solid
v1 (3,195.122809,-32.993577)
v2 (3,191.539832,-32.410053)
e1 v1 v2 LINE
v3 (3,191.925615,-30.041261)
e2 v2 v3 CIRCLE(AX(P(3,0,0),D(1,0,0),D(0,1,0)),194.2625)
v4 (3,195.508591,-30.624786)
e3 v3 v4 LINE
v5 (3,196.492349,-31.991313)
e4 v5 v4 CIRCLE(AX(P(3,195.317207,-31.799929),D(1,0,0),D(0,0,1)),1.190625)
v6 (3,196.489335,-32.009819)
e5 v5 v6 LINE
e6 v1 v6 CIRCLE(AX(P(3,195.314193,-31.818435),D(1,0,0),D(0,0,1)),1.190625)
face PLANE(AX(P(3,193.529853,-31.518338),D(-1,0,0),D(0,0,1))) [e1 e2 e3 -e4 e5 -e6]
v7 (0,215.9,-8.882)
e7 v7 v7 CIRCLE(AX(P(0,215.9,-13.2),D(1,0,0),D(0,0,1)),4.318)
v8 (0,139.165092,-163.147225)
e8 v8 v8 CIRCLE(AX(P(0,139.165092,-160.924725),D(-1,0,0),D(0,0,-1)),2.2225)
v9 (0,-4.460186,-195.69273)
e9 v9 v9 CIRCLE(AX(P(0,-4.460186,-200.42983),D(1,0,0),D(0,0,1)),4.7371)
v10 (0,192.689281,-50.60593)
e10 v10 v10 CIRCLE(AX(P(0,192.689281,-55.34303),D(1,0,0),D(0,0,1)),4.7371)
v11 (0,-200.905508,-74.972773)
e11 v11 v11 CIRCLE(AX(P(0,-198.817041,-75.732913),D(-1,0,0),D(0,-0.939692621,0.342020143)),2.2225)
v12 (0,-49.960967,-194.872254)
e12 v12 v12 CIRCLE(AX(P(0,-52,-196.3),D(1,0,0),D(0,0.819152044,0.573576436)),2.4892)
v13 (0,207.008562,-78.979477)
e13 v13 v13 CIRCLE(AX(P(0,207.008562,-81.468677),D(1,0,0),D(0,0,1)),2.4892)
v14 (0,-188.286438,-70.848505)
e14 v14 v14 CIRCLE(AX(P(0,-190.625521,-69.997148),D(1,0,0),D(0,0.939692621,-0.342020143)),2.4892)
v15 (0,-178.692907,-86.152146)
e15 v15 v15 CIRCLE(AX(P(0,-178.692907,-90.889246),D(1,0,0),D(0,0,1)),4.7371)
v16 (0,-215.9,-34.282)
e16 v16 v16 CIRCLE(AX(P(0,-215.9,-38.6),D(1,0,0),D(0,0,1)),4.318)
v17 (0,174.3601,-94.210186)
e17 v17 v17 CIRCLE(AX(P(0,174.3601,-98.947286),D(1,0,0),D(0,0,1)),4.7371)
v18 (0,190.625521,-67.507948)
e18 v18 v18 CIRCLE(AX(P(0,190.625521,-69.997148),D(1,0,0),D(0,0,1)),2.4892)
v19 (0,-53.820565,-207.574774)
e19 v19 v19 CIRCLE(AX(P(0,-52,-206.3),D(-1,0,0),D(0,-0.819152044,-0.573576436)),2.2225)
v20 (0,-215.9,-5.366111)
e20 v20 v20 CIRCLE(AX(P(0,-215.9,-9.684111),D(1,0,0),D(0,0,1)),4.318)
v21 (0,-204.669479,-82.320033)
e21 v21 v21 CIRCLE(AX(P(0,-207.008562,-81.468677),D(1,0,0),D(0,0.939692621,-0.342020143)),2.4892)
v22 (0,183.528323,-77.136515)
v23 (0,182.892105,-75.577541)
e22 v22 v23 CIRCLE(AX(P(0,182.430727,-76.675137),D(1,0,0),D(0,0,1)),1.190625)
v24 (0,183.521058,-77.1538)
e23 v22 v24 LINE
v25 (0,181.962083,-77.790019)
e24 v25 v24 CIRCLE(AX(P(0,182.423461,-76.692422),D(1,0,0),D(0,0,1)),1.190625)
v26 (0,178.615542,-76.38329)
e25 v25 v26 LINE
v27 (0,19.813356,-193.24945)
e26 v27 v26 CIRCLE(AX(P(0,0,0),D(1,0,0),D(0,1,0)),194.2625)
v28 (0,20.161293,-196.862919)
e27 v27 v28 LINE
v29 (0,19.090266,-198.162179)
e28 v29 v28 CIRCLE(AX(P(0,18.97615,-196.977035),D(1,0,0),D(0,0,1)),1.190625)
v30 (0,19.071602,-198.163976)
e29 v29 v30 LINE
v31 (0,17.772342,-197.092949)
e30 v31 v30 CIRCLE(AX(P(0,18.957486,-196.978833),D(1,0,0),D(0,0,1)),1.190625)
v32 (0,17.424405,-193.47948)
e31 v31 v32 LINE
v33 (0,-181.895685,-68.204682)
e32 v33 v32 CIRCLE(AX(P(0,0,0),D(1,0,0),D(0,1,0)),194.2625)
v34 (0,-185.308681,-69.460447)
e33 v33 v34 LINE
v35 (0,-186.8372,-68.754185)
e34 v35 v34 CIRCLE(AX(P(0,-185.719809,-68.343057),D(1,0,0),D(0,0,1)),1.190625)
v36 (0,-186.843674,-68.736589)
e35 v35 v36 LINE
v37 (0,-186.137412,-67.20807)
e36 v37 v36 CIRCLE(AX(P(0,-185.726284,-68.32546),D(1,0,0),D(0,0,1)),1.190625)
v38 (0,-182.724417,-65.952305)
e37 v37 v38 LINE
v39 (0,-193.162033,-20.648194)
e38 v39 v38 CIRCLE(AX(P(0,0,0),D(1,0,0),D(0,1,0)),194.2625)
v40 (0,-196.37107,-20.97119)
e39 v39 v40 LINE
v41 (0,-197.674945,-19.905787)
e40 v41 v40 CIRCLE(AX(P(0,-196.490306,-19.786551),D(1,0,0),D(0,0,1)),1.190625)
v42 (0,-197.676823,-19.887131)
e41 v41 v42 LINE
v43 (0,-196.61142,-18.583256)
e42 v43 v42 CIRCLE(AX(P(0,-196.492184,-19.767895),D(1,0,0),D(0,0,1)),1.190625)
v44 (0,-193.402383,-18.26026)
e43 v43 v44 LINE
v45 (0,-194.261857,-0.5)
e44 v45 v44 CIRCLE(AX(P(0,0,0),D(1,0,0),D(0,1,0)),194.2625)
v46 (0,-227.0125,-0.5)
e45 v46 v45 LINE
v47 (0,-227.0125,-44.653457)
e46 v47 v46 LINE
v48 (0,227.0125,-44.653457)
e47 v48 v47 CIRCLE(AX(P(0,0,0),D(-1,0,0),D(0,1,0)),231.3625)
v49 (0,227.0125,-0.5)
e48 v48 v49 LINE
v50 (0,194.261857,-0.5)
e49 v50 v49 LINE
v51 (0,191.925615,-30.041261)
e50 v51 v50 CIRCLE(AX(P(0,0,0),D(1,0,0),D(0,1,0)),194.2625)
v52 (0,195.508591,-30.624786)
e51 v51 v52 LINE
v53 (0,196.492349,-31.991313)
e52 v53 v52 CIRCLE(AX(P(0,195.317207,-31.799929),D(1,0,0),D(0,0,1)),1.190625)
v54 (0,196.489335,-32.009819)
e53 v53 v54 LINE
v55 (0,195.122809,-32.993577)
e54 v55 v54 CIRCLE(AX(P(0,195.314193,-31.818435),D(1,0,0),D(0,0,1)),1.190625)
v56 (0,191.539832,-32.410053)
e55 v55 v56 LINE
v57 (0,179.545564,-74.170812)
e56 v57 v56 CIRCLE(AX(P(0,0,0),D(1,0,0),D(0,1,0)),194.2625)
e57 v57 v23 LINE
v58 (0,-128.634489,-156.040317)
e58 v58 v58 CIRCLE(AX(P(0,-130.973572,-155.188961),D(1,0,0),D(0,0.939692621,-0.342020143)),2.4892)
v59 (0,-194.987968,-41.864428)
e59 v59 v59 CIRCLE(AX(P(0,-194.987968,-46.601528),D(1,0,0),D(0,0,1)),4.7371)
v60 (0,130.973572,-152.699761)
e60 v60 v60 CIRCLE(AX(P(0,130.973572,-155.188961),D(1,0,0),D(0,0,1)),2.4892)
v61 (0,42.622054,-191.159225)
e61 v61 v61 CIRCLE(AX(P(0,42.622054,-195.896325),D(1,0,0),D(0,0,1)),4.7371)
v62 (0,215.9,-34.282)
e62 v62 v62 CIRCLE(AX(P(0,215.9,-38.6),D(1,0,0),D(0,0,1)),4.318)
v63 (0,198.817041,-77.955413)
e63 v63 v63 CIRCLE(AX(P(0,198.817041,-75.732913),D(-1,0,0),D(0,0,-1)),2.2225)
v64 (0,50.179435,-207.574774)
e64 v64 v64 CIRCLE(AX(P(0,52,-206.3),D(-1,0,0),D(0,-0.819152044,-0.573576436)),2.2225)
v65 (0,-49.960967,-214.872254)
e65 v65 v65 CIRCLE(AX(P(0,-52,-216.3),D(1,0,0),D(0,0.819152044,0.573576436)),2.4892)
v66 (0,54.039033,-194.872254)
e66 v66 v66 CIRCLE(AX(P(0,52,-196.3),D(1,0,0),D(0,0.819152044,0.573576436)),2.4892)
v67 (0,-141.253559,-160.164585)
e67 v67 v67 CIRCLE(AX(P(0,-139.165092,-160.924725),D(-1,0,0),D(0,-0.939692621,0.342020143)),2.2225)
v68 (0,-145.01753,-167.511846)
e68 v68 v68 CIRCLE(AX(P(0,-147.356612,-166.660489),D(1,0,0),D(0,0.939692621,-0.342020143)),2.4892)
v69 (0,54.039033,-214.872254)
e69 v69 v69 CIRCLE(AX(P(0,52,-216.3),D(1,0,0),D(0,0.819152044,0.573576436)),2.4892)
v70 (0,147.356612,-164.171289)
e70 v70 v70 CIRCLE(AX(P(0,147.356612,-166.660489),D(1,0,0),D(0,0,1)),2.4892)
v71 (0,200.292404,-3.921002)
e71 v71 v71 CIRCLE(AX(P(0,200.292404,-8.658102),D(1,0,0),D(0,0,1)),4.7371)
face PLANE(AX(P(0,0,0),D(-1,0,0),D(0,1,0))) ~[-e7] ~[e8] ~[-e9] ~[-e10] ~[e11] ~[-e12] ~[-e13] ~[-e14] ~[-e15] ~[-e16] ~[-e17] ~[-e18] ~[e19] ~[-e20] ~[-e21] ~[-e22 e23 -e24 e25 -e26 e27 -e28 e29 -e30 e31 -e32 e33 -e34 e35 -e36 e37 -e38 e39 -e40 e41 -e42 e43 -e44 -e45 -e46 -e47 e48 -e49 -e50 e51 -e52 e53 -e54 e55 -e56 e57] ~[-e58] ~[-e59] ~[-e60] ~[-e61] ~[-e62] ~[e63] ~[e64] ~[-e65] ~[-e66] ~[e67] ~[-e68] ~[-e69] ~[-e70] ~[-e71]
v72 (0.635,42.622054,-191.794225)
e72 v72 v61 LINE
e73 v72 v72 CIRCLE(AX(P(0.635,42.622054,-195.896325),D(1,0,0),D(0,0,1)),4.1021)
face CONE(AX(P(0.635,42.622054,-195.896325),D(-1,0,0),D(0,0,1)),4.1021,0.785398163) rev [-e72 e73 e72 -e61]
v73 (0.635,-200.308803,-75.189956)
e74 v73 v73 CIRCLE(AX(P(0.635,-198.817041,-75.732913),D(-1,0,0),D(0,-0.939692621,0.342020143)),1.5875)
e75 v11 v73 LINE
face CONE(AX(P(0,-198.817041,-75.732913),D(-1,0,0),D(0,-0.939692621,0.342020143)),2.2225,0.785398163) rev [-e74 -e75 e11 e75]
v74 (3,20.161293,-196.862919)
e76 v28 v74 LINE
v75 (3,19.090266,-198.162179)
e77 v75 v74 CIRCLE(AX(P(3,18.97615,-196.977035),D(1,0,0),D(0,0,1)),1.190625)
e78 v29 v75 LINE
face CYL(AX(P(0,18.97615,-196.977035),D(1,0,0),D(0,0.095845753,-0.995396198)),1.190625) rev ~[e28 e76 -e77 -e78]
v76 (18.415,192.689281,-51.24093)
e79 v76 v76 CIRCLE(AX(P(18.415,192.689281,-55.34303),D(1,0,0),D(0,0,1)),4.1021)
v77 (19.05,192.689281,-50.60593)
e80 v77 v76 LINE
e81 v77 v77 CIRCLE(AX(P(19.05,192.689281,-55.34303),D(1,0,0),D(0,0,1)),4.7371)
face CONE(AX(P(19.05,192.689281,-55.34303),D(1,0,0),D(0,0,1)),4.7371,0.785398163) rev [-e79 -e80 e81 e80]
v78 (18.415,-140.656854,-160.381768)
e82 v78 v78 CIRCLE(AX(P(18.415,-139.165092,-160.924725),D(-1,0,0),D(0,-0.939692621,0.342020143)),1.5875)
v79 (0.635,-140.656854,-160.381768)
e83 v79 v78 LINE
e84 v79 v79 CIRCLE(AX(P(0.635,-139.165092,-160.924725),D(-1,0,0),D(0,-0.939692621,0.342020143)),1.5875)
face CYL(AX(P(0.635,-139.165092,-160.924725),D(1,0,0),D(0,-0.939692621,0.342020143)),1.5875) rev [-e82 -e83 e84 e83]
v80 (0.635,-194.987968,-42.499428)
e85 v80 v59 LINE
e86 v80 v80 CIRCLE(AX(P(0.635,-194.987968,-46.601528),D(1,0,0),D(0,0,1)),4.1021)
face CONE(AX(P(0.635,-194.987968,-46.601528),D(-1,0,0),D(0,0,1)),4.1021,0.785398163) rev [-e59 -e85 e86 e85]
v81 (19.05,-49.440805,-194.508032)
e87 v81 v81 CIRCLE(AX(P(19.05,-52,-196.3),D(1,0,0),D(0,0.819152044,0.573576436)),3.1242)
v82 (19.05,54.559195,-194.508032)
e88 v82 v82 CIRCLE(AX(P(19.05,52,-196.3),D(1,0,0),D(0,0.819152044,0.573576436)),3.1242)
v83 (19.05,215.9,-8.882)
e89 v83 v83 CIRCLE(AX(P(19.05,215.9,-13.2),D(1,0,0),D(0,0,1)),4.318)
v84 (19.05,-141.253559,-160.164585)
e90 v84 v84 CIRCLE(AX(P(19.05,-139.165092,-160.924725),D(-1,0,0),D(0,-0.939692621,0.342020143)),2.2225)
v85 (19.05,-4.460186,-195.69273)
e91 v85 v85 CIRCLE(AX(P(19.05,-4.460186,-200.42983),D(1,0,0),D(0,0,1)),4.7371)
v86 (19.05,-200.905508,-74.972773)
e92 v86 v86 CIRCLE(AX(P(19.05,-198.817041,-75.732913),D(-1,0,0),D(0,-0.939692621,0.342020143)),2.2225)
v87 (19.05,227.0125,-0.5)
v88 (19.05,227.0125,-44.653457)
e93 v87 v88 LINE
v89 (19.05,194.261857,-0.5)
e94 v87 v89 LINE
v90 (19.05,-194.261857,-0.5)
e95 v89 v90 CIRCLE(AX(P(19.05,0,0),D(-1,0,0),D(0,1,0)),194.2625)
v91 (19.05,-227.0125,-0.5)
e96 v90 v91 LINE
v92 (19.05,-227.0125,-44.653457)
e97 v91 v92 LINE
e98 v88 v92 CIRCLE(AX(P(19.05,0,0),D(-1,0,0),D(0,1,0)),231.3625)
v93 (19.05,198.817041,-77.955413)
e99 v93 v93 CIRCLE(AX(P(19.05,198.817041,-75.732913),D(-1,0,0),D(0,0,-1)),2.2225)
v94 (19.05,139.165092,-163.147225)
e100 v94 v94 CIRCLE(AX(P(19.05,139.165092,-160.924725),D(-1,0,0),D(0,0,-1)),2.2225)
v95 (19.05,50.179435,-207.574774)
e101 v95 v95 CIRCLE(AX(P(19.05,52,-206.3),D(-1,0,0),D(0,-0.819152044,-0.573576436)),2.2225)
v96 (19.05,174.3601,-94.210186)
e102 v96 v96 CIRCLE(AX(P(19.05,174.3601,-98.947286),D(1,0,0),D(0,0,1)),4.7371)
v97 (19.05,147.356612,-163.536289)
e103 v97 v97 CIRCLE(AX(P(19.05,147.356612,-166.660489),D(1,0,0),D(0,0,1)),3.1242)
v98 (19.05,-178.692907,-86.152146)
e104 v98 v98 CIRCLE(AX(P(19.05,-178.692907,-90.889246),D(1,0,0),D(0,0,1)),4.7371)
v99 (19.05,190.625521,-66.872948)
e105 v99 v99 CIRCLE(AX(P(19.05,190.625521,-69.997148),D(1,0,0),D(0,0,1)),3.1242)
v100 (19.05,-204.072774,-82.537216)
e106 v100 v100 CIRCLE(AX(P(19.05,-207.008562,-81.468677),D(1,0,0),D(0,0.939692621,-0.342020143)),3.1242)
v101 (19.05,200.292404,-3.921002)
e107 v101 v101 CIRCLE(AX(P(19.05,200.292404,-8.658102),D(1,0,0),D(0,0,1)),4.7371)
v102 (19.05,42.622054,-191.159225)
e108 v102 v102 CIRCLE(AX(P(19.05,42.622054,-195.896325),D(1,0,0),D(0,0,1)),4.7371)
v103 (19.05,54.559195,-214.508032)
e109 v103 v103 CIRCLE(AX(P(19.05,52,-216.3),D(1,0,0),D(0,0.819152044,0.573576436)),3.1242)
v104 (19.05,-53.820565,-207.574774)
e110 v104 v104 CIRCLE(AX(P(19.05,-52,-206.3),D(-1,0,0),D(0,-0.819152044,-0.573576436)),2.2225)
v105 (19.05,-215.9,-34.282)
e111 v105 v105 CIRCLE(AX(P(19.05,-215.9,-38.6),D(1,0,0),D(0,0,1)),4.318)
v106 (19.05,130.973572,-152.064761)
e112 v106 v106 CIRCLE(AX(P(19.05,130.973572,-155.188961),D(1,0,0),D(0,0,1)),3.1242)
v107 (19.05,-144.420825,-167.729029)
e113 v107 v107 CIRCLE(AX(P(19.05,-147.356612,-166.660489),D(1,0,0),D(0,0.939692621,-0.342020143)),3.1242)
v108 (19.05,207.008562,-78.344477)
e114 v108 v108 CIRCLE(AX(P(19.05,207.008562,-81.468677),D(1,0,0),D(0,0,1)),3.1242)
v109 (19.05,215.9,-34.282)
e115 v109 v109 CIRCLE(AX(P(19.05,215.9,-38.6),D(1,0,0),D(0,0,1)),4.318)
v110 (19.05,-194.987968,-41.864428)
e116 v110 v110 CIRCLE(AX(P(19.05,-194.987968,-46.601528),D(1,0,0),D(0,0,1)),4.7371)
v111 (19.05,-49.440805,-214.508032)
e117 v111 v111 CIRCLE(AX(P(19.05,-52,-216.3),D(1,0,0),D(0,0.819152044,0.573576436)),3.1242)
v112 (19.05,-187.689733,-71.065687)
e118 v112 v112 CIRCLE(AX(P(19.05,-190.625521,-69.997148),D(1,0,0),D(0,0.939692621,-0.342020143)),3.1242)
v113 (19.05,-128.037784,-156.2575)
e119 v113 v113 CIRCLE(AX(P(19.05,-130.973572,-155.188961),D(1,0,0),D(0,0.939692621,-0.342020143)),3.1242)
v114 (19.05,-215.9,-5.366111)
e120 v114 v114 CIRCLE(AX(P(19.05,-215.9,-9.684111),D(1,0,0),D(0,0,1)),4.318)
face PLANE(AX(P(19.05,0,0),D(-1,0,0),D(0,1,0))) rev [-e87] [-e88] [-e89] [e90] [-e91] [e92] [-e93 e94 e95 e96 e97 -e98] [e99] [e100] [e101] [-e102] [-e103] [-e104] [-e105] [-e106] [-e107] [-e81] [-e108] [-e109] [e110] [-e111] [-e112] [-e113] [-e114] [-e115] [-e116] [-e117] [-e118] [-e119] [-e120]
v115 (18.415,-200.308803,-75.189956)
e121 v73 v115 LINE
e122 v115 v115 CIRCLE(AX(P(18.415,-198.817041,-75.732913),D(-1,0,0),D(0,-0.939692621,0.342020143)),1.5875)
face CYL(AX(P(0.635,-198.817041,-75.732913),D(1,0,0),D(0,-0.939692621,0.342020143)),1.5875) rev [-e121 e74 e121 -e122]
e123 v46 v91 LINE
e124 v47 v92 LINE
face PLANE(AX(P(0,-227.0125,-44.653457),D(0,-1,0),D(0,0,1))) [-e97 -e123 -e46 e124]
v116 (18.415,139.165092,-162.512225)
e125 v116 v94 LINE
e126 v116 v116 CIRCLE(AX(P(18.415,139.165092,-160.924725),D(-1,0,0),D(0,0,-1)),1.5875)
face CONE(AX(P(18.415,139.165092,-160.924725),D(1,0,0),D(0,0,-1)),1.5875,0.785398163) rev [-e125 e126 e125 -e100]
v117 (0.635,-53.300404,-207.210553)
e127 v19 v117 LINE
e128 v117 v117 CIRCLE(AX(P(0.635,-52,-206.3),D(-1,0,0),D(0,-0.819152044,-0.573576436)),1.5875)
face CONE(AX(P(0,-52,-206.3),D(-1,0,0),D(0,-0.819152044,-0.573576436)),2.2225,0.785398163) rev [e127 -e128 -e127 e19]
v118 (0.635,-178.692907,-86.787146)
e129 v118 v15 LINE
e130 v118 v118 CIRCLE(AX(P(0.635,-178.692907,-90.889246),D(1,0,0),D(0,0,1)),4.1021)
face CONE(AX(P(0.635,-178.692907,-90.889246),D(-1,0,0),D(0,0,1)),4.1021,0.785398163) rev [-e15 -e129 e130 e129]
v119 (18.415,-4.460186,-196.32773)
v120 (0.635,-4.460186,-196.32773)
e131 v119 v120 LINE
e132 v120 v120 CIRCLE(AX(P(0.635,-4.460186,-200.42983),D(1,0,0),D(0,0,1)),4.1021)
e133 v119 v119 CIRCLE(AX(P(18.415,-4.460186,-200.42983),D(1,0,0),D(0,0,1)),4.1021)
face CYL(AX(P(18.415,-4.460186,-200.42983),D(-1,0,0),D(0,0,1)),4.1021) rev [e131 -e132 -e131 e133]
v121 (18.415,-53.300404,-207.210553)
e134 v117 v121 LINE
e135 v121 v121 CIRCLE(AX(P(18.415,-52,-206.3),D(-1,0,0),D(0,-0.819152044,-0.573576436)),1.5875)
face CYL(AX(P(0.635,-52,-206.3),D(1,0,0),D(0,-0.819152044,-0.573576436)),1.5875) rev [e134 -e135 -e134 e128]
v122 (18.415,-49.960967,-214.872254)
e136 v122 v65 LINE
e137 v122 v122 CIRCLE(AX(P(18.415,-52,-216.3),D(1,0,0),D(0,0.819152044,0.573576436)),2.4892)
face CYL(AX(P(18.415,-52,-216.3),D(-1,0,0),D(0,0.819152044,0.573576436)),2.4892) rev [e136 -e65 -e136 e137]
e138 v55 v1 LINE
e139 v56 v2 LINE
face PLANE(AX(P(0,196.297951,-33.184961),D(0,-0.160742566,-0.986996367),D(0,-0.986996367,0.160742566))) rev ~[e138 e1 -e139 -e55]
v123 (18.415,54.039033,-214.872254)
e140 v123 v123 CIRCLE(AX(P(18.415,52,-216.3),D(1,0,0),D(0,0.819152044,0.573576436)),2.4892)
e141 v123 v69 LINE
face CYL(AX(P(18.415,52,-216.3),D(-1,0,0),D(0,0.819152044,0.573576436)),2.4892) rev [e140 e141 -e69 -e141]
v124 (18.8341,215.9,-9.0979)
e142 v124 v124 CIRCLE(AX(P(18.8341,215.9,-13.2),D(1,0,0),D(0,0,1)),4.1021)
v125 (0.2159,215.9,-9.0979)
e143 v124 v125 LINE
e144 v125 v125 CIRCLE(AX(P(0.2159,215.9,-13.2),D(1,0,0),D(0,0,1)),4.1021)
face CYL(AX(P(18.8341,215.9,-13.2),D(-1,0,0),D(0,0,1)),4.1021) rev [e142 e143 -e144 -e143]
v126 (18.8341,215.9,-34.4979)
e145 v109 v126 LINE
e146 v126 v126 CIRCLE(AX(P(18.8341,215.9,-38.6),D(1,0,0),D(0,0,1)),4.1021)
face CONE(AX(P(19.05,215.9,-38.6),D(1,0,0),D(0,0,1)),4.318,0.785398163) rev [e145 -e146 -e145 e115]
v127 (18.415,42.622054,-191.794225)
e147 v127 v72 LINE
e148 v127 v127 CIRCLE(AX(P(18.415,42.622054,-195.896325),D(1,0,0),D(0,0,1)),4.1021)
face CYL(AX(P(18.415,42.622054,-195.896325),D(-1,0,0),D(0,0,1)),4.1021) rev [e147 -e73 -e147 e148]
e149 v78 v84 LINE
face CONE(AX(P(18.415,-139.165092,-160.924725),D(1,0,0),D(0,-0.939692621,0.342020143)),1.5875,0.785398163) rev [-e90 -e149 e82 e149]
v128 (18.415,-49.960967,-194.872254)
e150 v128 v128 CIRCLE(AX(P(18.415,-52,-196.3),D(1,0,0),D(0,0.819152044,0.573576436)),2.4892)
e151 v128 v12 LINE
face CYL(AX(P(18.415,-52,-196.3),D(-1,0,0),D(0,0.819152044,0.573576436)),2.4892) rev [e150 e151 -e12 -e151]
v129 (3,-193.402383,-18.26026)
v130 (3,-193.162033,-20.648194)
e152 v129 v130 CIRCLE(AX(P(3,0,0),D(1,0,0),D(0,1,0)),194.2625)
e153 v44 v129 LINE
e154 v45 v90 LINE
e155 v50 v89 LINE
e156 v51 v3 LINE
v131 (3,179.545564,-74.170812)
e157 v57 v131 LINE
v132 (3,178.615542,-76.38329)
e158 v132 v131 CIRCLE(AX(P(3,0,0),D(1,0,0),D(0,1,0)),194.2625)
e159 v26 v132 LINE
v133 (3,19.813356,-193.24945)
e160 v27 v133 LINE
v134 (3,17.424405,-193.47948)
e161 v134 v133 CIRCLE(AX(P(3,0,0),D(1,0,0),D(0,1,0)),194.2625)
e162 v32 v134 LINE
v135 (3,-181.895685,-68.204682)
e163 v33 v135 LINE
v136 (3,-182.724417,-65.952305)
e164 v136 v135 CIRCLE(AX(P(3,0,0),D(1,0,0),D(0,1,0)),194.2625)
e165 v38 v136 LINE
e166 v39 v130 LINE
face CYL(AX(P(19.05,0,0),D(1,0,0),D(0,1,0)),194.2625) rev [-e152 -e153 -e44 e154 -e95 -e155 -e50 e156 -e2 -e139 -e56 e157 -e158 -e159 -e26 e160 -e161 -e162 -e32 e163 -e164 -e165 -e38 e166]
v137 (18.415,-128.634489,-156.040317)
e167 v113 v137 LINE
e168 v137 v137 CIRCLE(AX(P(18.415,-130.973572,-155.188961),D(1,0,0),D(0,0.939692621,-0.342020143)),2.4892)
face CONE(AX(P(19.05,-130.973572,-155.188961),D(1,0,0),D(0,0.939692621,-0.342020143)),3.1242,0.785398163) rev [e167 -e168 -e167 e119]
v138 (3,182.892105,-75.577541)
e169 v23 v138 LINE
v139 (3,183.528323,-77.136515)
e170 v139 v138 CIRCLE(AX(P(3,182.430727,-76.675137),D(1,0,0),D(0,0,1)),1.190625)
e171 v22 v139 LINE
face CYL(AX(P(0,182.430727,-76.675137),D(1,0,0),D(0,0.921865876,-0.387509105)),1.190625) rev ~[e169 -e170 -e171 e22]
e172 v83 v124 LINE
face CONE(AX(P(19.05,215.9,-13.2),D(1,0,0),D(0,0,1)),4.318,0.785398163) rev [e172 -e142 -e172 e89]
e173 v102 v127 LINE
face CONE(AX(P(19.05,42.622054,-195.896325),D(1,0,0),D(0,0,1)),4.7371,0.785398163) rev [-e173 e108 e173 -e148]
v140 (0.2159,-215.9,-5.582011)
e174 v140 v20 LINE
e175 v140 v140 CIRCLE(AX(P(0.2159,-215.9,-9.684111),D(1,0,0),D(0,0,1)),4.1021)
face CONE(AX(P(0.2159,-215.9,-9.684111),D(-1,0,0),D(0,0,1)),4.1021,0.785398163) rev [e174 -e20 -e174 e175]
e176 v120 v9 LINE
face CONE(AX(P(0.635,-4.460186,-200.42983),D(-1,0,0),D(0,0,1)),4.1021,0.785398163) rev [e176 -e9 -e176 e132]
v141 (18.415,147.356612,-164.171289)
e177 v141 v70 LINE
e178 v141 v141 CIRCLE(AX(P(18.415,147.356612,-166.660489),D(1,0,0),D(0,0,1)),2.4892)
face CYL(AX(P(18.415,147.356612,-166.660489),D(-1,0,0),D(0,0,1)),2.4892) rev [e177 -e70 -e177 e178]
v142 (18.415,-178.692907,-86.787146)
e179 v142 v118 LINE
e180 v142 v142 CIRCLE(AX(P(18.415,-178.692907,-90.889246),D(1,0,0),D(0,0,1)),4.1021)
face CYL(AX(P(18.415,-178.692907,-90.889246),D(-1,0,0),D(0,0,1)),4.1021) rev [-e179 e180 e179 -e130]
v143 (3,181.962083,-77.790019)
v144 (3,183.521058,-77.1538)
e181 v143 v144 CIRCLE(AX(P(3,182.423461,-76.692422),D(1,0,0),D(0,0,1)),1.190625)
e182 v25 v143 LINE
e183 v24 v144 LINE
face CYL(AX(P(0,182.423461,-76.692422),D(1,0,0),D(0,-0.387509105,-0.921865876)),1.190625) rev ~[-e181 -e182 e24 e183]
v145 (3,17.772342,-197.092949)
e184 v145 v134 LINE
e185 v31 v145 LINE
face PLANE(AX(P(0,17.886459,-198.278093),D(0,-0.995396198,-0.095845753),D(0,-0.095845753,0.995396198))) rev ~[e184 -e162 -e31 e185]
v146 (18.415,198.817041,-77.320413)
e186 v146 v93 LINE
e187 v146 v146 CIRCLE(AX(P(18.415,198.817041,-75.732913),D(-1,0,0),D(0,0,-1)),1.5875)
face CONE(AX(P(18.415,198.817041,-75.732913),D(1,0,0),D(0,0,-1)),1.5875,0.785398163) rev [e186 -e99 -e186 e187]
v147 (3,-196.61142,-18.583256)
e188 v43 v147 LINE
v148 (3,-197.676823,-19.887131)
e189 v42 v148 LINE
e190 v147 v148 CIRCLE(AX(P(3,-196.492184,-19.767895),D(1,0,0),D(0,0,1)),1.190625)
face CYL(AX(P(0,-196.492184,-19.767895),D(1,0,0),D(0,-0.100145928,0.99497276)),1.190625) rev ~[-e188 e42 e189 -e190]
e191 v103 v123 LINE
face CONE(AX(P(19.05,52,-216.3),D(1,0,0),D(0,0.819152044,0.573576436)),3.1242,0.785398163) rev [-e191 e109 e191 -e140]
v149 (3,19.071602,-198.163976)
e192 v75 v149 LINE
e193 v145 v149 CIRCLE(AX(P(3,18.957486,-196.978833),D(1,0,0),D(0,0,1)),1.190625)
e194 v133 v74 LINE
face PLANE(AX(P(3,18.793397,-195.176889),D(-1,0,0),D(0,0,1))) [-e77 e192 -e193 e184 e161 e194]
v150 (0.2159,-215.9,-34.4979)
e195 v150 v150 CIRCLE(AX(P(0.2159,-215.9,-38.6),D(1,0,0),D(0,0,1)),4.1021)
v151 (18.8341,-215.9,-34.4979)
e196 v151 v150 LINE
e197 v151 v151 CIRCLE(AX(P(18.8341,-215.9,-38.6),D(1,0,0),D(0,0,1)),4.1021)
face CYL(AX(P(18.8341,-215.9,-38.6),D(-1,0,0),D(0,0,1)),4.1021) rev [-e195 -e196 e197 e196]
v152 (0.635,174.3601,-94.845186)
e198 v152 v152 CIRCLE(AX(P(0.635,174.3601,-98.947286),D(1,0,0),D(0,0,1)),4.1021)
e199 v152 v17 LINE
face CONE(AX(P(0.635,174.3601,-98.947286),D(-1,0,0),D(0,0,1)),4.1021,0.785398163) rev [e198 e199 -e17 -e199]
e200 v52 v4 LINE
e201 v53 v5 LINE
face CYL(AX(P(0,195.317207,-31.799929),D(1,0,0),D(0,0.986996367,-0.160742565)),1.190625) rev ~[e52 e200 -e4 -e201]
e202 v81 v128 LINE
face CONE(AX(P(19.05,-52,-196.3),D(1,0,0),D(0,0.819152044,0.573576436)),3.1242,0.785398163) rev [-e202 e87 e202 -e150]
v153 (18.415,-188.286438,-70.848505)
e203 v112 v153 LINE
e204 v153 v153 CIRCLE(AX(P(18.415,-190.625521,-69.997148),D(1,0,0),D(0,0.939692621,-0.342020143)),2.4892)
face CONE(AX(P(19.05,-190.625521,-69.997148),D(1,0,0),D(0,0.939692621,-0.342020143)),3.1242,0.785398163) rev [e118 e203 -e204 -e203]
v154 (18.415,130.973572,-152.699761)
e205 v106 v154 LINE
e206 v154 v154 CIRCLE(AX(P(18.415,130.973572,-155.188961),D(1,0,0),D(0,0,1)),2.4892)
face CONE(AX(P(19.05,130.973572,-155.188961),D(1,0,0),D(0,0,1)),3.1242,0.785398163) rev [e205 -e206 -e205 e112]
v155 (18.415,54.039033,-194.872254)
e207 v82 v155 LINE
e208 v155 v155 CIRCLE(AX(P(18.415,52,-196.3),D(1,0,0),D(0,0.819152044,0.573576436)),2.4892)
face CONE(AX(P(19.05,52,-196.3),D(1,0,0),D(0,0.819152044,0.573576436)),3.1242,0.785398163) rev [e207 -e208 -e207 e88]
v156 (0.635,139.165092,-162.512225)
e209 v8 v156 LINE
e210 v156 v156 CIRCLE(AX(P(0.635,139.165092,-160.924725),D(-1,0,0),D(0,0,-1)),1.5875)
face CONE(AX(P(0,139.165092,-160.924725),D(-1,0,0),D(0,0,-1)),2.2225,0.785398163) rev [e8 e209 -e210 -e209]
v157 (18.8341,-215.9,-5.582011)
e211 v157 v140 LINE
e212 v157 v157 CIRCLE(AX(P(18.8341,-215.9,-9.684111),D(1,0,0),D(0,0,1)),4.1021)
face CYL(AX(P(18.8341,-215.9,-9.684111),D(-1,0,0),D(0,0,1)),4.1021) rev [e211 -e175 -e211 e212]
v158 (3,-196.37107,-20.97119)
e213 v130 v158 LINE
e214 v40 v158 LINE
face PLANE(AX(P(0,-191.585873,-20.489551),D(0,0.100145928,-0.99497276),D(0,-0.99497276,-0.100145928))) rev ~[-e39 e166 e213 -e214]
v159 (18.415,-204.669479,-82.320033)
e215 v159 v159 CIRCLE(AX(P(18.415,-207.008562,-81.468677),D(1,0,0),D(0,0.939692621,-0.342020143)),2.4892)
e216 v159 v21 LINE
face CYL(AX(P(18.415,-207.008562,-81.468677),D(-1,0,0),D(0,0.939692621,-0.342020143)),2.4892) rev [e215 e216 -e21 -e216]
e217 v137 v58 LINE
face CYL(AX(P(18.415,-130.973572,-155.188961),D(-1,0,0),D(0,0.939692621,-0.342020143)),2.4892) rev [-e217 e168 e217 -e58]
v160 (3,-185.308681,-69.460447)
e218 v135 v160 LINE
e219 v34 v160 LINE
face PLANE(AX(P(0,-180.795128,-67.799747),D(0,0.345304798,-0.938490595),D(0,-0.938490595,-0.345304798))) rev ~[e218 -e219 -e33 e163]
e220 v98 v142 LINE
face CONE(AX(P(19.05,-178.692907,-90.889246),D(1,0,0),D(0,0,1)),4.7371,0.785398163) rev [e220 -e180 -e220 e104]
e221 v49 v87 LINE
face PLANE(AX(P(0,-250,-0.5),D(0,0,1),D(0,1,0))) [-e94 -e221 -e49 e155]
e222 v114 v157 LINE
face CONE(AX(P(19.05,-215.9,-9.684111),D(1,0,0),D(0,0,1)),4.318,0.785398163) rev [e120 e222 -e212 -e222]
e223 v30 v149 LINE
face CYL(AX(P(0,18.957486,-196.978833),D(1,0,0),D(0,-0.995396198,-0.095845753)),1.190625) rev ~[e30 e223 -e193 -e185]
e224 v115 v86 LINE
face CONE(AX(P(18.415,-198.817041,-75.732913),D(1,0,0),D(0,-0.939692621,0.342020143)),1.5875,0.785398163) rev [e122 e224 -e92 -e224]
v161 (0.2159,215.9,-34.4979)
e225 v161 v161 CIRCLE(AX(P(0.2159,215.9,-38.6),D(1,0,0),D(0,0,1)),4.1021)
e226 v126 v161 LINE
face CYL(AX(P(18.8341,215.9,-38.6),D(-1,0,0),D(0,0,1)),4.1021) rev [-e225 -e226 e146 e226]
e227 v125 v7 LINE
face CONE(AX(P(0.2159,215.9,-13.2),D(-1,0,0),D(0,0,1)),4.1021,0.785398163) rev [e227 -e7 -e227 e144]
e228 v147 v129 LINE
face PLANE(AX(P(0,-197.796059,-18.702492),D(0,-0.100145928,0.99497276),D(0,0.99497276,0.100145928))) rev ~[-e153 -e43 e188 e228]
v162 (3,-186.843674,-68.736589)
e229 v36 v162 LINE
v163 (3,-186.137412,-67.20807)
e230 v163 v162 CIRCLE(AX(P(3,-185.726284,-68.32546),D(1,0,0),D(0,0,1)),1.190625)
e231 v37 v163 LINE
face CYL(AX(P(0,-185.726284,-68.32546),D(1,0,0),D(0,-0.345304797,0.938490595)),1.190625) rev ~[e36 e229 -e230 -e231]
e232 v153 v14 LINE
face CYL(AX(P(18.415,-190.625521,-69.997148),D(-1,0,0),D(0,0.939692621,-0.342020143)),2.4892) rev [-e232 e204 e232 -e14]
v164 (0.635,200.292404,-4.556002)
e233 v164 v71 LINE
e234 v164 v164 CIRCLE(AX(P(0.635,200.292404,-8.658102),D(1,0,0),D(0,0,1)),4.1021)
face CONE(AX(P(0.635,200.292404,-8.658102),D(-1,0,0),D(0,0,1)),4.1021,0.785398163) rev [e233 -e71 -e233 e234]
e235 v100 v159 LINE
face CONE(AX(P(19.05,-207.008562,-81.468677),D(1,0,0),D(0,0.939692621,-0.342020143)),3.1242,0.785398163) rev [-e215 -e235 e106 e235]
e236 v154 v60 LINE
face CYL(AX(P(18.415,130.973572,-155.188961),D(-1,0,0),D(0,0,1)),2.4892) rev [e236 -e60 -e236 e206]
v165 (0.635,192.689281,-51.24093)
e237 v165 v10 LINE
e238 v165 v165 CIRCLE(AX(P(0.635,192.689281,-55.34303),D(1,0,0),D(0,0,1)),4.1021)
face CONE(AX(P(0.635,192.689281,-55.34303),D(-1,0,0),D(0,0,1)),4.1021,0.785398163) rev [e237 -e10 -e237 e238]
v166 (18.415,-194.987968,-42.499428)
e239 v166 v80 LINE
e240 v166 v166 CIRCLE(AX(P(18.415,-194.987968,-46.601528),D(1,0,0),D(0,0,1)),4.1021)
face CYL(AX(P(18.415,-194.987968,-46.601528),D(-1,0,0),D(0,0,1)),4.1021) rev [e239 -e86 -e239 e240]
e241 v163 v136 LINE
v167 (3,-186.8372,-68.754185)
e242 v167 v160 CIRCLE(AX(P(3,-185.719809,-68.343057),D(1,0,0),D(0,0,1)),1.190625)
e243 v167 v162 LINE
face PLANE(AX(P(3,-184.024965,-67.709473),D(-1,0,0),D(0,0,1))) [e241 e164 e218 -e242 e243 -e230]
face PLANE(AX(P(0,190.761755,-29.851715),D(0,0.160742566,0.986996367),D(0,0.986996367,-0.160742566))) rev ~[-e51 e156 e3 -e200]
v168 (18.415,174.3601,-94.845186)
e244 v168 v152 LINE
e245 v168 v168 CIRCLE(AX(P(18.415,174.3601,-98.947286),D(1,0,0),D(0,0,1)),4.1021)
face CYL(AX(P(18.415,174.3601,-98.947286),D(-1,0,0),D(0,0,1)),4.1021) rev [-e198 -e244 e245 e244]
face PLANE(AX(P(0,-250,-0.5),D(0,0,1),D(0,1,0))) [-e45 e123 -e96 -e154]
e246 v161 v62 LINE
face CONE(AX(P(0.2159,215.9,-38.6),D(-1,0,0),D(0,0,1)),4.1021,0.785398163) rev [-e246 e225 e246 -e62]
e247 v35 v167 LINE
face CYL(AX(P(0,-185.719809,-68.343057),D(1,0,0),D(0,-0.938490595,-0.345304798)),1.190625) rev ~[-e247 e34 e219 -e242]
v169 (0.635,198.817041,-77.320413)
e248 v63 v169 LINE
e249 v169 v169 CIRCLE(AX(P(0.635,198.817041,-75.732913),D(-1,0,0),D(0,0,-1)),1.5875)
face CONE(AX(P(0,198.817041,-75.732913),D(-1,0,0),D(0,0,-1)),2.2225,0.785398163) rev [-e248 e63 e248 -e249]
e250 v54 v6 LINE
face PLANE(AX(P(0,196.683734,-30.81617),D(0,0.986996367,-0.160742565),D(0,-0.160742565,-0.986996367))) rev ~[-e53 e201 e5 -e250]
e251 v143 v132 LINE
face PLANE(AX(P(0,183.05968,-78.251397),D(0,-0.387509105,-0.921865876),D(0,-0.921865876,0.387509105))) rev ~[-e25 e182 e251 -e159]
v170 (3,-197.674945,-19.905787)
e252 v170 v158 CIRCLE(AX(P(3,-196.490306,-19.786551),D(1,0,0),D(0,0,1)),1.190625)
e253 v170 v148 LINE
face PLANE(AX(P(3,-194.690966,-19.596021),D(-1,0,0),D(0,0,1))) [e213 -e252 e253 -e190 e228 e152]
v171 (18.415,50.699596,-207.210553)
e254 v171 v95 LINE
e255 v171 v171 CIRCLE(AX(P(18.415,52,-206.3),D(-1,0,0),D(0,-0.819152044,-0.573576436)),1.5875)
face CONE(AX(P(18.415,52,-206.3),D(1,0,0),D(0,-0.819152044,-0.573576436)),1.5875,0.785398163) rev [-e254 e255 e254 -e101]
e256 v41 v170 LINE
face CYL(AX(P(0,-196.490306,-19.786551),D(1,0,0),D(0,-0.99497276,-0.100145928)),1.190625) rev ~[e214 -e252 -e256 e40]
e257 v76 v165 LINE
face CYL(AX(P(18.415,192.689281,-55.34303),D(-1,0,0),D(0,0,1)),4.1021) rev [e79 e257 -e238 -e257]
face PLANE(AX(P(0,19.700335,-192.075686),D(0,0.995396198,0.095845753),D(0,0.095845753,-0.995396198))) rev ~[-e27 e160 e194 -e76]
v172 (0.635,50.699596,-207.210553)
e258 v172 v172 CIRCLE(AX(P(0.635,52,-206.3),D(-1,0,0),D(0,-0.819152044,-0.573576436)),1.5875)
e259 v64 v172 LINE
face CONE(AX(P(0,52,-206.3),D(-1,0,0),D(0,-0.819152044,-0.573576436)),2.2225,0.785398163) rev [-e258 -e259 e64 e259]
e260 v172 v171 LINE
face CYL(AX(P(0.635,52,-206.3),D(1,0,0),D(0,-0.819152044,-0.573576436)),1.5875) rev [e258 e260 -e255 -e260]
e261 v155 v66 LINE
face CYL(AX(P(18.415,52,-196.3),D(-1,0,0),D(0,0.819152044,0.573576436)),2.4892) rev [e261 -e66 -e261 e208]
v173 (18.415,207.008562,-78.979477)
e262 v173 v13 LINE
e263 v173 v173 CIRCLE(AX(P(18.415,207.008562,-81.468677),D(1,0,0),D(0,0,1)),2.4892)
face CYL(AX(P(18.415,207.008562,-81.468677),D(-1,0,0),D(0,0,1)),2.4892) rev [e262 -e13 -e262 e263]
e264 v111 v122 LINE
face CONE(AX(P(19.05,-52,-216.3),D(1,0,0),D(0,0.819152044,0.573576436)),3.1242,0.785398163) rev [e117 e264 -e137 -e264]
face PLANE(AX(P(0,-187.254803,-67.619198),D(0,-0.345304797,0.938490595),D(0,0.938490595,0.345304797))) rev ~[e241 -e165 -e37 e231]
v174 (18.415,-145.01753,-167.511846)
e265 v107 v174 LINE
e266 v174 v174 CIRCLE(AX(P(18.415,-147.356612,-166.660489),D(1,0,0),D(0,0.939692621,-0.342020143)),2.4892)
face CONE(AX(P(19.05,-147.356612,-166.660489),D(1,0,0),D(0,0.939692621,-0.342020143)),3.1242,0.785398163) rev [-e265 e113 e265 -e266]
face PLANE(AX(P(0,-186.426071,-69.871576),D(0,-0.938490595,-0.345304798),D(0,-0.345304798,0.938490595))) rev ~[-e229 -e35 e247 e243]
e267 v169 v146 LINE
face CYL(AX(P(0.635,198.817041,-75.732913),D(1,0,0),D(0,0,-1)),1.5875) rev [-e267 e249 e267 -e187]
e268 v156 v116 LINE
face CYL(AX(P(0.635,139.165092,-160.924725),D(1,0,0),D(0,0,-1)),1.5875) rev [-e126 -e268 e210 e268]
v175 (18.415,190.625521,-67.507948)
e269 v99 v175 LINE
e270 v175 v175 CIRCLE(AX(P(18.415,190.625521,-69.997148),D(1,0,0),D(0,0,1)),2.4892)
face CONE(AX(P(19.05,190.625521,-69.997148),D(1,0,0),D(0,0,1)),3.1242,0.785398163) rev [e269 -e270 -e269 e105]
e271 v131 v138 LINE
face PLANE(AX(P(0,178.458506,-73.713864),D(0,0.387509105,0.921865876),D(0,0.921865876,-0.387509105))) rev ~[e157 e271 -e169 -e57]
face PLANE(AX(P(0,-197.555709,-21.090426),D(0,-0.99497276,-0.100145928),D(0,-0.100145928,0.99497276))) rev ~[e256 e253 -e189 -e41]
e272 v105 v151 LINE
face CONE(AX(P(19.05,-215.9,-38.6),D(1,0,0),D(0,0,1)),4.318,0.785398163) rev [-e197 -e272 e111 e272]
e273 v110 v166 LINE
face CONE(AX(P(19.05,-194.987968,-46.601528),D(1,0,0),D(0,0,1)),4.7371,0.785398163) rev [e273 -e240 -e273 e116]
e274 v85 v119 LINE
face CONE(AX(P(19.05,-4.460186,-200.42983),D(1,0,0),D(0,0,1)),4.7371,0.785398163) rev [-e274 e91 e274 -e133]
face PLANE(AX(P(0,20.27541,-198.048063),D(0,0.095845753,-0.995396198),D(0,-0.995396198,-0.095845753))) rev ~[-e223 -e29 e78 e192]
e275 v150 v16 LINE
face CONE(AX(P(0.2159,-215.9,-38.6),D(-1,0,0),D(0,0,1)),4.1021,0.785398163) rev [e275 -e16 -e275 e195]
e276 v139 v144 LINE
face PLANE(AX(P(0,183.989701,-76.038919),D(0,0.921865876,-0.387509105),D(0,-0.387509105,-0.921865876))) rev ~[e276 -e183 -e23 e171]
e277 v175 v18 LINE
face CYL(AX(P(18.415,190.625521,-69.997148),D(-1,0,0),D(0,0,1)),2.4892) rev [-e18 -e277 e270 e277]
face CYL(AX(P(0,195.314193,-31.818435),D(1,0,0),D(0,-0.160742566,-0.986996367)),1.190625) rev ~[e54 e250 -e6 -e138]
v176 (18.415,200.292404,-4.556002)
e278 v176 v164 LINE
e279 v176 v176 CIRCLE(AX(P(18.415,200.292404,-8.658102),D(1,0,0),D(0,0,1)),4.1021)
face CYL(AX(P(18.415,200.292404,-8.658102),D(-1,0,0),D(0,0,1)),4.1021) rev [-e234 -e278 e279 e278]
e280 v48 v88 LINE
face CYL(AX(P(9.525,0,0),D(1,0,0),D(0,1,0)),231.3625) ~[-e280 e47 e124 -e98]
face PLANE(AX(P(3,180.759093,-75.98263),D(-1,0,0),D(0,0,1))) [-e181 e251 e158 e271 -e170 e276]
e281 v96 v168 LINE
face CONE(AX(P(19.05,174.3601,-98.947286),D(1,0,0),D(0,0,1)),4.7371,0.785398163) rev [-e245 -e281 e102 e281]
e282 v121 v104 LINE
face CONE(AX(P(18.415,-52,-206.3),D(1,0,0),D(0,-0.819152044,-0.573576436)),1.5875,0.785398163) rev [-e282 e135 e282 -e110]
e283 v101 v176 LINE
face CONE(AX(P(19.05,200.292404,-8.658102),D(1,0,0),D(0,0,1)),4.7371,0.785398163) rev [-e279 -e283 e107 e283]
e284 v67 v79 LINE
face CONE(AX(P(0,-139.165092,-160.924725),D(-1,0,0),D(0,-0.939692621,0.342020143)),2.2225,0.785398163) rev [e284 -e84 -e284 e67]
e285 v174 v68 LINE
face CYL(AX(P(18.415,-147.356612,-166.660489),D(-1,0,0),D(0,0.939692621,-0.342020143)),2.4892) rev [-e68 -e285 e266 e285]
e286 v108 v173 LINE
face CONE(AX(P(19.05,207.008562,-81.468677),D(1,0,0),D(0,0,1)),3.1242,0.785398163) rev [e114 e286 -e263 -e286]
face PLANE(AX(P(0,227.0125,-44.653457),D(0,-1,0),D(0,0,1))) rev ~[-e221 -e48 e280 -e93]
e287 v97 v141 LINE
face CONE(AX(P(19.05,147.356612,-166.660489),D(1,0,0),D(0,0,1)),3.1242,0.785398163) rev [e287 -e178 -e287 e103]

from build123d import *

# Parameters (mm, degrees)
SKETCH1_W                             = 19.05
SKETCH1_H                             = 38.1
REVOLVE_THIN1_ANGLE                   = 180
SKETCH81_W                            = 0.5
SKETCH81_H                            = 500
EXTRUDE1_DEPTH                        = 20.05
CLEARANCE_HOLE1_AT_2_COUNT            = 2
CLEARANCE_HOLE1_AT_2_PITCH            = 20
CLEARANCE_HOLE1_AT_3_COUNT            = 2
CLEARANCE_HOLE1_AT_3_PITCH            = 104
CLEARANCE_HOLE1_AT_4_COUNT            = 2
CLEARANCE_HOLE1_AT_4_PITCH            = 105.905618359
F_1_8_0_125_DIAMETER_HOLE1_AT_2_COUNT = 2
F_1_8_0_125_DIAMETER_HOLE1_AT_2_PITCH = 104
F_1_8_0_125_DIAMETER_HOLE1_AT_3_COUNT = 2
F_1_8_0_125_DIAMETER_HOLE1_AT_3_PITCH = 195.60569338
F_1_8_0_125_DIAMETER_HOLE1_AT_4_COUNT = 2
F_1_8_0_125_DIAMETER_HOLE1_AT_4_PITCH = 10
CIRPATTERN1_COUNT                     = 3
CIRPATTERN1_ANGLE                     = 110
SKETCH88_W                            = 44.153457313
SKETCH88_H                            = 4.349459722
CUT_EXTRUDE1_DEPTH                    = 20.05
F_5_16_CLEARANCE_HOLE1_AT_2_COUNT     = 2
F_5_16_CLEARANCE_HOLE1_AT_2_PITCH     = 25.4
F_5_16_CLEARANCE_HOLE1_AT_3_COUNT     = 2
F_5_16_CLEARANCE_HOLE1_AT_3_PITCH     = 431.8
F_5_16_CLEARANCE_HOLE1_AT_4_COUNT     = 2
F_5_16_CLEARANCE_HOLE1_AT_4_PITCH     = 432.767106737
CUT_EXTRUDE2_REACH                    = 21.05
F_5_16_CLEARANCE_HOLE2_AT_2_COUNT     = 2
F_5_16_CLEARANCE_HOLE2_AT_2_PITCH     = 47.3
F_5_16_CLEARANCE_HOLE2_AT_3_COUNT     = 2
F_5_16_CLEARANCE_HOLE2_AT_3_PITCH     = 93.939454723
F_5_16_CLEARANCE_HOLE2_AT_4_COUNT     = 2
F_5_16_CLEARANCE_HOLE2_AT_4_PITCH     = 244.781722588
F_5_16_CLEARANCE_HOLE2_AT_5_COUNT     = 2
F_5_16_CLEARANCE_HOLE2_AT_5_PITCH     = 280.53523627
F_5_16_CLEARANCE_HOLE2_AT_6_COUNT     = 2
F_5_16_CLEARANCE_HOLE2_AT_6_PITCH     = 387.803850818
F_5_16_CLEARANCE_HOLE2_AT_7_COUNT     = 2
F_5_16_CLEARANCE_HOLE2_AT_7_PITCH     = 397.097312716
CUT_EXTRUDE_THIN5_DEPTH               = 3
CUT_EXTRUDE_THIN7_DEPTH               = 3
CUT_EXTRUDE_THIN8_DEPTH               = 3
CUT_EXTRUDE_THIN9_DEPTH               = 3
CUT_EXTRUDE_THIN10_DEPTH              = 3
FILLET1_R                             = 1.190625


with BuildPart() as part:
    # Sketch1 → Revolve-Thin1 (revolve)
    with BuildSketch(Plane.XY):
        with Locations((9.525, 212.3125)):
            Rectangle(SKETCH1_W, SKETCH1_H)
    revolve(axis=Axis((0, 0, 0), (-1, 0, 0)), revolution_arc=REVOLVE_THIN1_ANGLE)

    # Sketch81 → Extrude1 (cut, through all)
    with BuildSketch(Plane(origin=(0, 0, 0), x_dir=(0, 0, -1), z_dir=(1, 0, 0))):
        with Locations((0.25, 0)):
            Rectangle(SKETCH81_W, SKETCH81_H)
    extrude(amount=EXTRUDE1_DEPTH, mode=Mode.SUBTRACT)

    # Sketch82 → Clearance Hole1 (revolve, cut)
    with BuildSketch(Plane(origin=(0, 147.356612489, -166.660489486), x_dir=(0, 0, 1), z_dir=(0, 1, 0))):
        Polygon((0, 0), (0, 19.05), (3.1242, 19.05), (2.4892, 18.415), (2.4892, 0), align=None)
    clearance_hole1 = revolve(axis=Axis((-6.35, 147.356612489, -166.660489486), (1, 0, 0)), mode=Mode.SUBTRACT)

    # Clearance Hole1 at 2: Clearance Hole1 ×2
    with Locations(*[Vector(0, -0.819152044, 0.573576436) * (i * CLEARANCE_HOLE1_AT_2_PITCH) for i in range(1, CLEARANCE_HOLE1_AT_2_COUNT)]):
        add(clearance_hole1, mode=Mode.SUBTRACT)

    # Clearance Hole1 at 3: Clearance Hole1 ×2
    with Locations(*[Vector(0, 0.573576436, 0.819152044) * (i * CLEARANCE_HOLE1_AT_3_PITCH) for i in range(1, CLEARANCE_HOLE1_AT_3_COUNT)]):
        add(clearance_hole1, mode=Mode.SUBTRACT)

    # Clearance Hole1 at 4: Clearance Hole1 ×2
    with Locations(*[Vector(0, 0.40856103, 0.912731004) * (i * CLEARANCE_HOLE1_AT_4_PITCH) for i in range(1, CLEARANCE_HOLE1_AT_4_COUNT)]):
        add(clearance_hole1, mode=Mode.SUBTRACT)

    # Sketch86 → 1_8 _0.125_ Diameter Hole1 (revolve, cut)
    with BuildSketch(Plane(origin=(19.05, 198.817041427, -75.732912516), x_dir=(0, 0, -1), z_dir=(0, 1, 0))):
        Polygon((0, 0), (0, 19.05), (2.2225, 19.05), (1.5875, 18.415), (1.5875, 0.635), (2.2225, 0), align=None)
    f_1_8_0_125_diameter_hole1 = revolve(axis=Axis((25.4, 198.817041427, -75.732912516), (-1, 0, 0)), mode=Mode.SUBTRACT)

    # 1_8 _0.125_ Diameter Hole1 at 2: 1_8 _0.125_ Diameter Hole1 ×2
    with Locations(*[Vector(0, -0.573576436, -0.819152044) * (i * F_1_8_0_125_DIAMETER_HOLE1_AT_2_PITCH) for i in range(1, F_1_8_0_125_DIAMETER_HOLE1_AT_2_COUNT)]):
        add(f_1_8_0_125_diameter_hole1, mode=Mode.SUBTRACT)

    # 1_8 _0.125_ Diameter Hole1 at 3: 1_8 _0.125_ Diameter Hole1 ×2
    with Locations(*[Vector(0, -0.954817271, -0.297193505) * (i * F_1_8_0_125_DIAMETER_HOLE1_AT_3_PITCH) for i in range(1, F_1_8_0_125_DIAMETER_HOLE1_AT_3_COUNT)]):
        add(f_1_8_0_125_diameter_hole1, mode=Mode.SUBTRACT)

    # 1_8 _0.125_ Diameter Hole1 at 4: 1_8 _0.125_ Diameter Hole1 ×2
    with Locations(*[Vector(0, 0.819152044, -0.573576436) * (i * F_1_8_0_125_DIAMETER_HOLE1_AT_4_PITCH) for i in range(1, F_1_8_0_125_DIAMETER_HOLE1_AT_4_COUNT)]):
        add(f_1_8_0_125_diameter_hole1, mode=Mode.SUBTRACT)

    # CirPattern1: 1_8 _0.125_ Diameter Hole1, Clearance Hole1 ×3 about axis
    cirpattern1_axis = Axis((0, 0, 0), (-1, 0, 0))
    add([f_1_8_0_125_diameter_hole1.rotate(cirpattern1_axis, i * CIRPATTERN1_ANGLE / (CIRPATTERN1_COUNT - 1)) for i in range(1, CIRPATTERN1_COUNT)], mode=Mode.SUBTRACT)
    add([clearance_hole1.rotate(cirpattern1_axis, i * CIRPATTERN1_ANGLE / (CIRPATTERN1_COUNT - 1)) for i in range(1, CIRPATTERN1_COUNT)], mode=Mode.SUBTRACT)

    # CirPattern1 copy 1 sketch → CirPattern1 copy 1 (revolve, cut)
    with BuildSketch(Plane(origin=(19.05, -52, -206.3), x_dir=(0, -0.819152044, -0.573576436), z_dir=(0, 0.573576436, -0.819152044))):
        Polygon((0, 0), (0, 19.05), (2.2225, 19.05), (1.5875, 18.415), (1.5875, 0.635), (2.2225, 0), align=None)
    revolve(axis=Axis((25.4, -52, -206.3), (-1, 0, 0)), mode=Mode.SUBTRACT)

    # CirPattern1 copy 2 sketch → CirPattern1 copy 2 (revolve, cut)
    with BuildSketch(Plane(origin=(19.05, -198.817041427, -75.732912516), x_dir=(0, -0.939692621, 0.342020143), z_dir=(0, -0.342020143, -0.939692621))):
        Polygon((0, 0), (0, 19.05), (2.2225, 19.05), (1.5875, 18.415), (1.5875, 0.635), (2.2225, 0), align=None)
    revolve(axis=Axis((25.4, -198.817041427, -75.732912516), (-1, 0, 0)), mode=Mode.SUBTRACT)

    # CirPattern1 copy 3 sketch → CirPattern1 copy 3 (revolve, cut)
    with BuildSketch(Plane(origin=(19.05, -102.745102668, -86.652432191), x_dir=(0, -0.819152044, -0.573576436), z_dir=(0, 0.573576436, -0.819152044))):
        Polygon((0, 0), (0, 19.05), (2.2225, 19.05), (1.5875, 18.415), (1.5875, 0.635), (2.2225, 0), align=None)
    revolve(axis=Axis((25.4, -102.745102668, -86.652432191), (-1, 0, 0)), mode=Mode.SUBTRACT)

    # CirPattern1 copy 4 sketch → CirPattern1 copy 4 (revolve, cut)
    with BuildSketch(Plane(origin=(19.05, -129.913686813, 34.462067634), x_dir=(0, -0.939692621, 0.342020143), z_dir=(0, -0.342020143, -0.939692621))):
        Polygon((0, 0), (0, 19.05), (2.2225, 19.05), (1.5875, 18.415), (1.5875, 0.635), (2.2225, 0), align=None)
    revolve(axis=Axis((25.4, -129.913686813, 34.462067634), (-1, 0, 0)), mode=Mode.SUBTRACT)

    # CirPattern1 copy 5 sketch → CirPattern1 copy 5 (revolve, cut)
    with BuildSketch(Plane(origin=(19.05, 52, -216.3), x_dir=(0, -0.819152044, -0.573576436), z_dir=(0, 0.573576436, -0.819152044))):
        Polygon((0, 0), (0, 19.05), (2.2225, 19.05), (1.5875, 18.415), (1.5875, 0.635), (2.2225, 0), align=None)
    revolve(axis=Axis((25.4, 52, -216.3), (-1, 0, 0)), mode=Mode.SUBTRACT)

    # CirPattern1 copy 6 sketch → CirPattern1 copy 6 (revolve, cut)
    with BuildSketch(Plane(origin=(19.05, -147.356612489, -166.660489486), x_dir=(0, -0.939692621, 0.342020143), z_dir=(0, -0.342020143, -0.939692621))):
        Polygon((0, 0), (0, 19.05), (2.2225, 19.05), (1.5875, 18.415), (1.5875, 0.635), (2.2225, 0), align=None)
    revolve(axis=Axis((25.4, -147.356612489, -166.660489486), (-1, 0, 0)), mode=Mode.SUBTRACT)

    # CirPattern1 copy 7 sketch → CirPattern1 copy 7 (revolve, cut)
    with BuildSketch(Plane(origin=(0, -52, -196.3), x_dir=(0, 0.819152044, 0.573576436), z_dir=(0, 0.573576436, -0.819152044))):
        Polygon((0, 0), (0, 19.05), (3.1242, 19.05), (2.4892, 18.415), (2.4892, 0), align=None)
    revolve(axis=Axis((-6.35, -52, -196.3), (1, 0, 0)), mode=Mode.SUBTRACT)

    # CirPattern1 copy 8 sketch → CirPattern1 copy 8 (revolve, cut)
    with BuildSketch(Plane(origin=(0, -190.625520984, -69.997148153), x_dir=(0, 0.939692621, -0.342020143), z_dir=(0, -0.342020143, -0.939692621))):
        Polygon((0, 0), (0, 19.05), (3.1242, 19.05), (2.4892, 18.415), (2.4892, 0), align=None)
    revolve(axis=Axis((-6.35, -190.625520984, -69.997148153), (1, 0, 0)), mode=Mode.SUBTRACT)

    # CirPattern1 copy 9 sketch → CirPattern1 copy 9 (revolve, cut)
    with BuildSketch(Plane(origin=(0, 52, -216.3), x_dir=(0, 0.819152044, 0.573576436), z_dir=(0, 0.573576436, -0.819152044))):
        Polygon((0, 0), (0, 19.05), (3.1242, 19.05), (2.4892, 18.415), (2.4892, 0), align=None)
    revolve(axis=Axis((-6.35, 52, -216.3), (1, 0, 0)), mode=Mode.SUBTRACT)

    # CirPattern1 copy 10 sketch → CirPattern1 copy 10 (revolve, cut)
    with BuildSketch(Plane(origin=(0, -147.356612489, -166.660489486), x_dir=(0, 0.939692621, -0.342020143), z_dir=(0, -0.342020143, -0.939692621))):
        Polygon((0, 0), (0, 19.05), (3.1242, 19.05), (2.4892, 18.415), (2.4892, 0), align=None)
    revolve(axis=Axis((-6.35, -147.356612489, -166.660489486), (1, 0, 0)), mode=Mode.SUBTRACT)

    # CirPattern1 copy 11 sketch → CirPattern1 copy 11 (revolve, cut)
    with BuildSketch(Plane(origin=(0, 52, -196.3), x_dir=(0, 0.819152044, 0.573576436), z_dir=(0, 0.573576436, -0.819152044))):
        Polygon((0, 0), (0, 19.05), (3.1242, 19.05), (2.4892, 18.415), (2.4892, 0), align=None)
    revolve(axis=Axis((-6.35, 52, -196.3), (1, 0, 0)), mode=Mode.SUBTRACT)

    # CirPattern1 copy 12 sketch → CirPattern1 copy 12 (revolve, cut)
    with BuildSketch(Plane(origin=(0, -130.973571604, -155.188960759), x_dir=(0, 0.939692621, -0.342020143), z_dir=(0, -0.342020143, -0.939692621))):
        Polygon((0, 0), (0, 19.05), (3.1242, 19.05), (2.4892, 18.415), (2.4892, 0), align=None)
    revolve(axis=Axis((-6.35, -130.973571604, -155.188960759), (1, 0, 0)), mode=Mode.SUBTRACT)

    # Sketch88 → Cut-Extrude1 (cut, through all)
    with BuildSketch(Plane.ZY):
        with Locations((-22.576728657, 229.187229861)):
            Rectangle(SKETCH88_W, SKETCH88_H)
        with Locations((-22.576728657, -229.187229861)):
            Rectangle(SKETCH88_W, SKETCH88_H)
    extrude(amount=-CUT_EXTRUDE1_DEPTH, mode=Mode.SUBTRACT)

    # Sketch89 → 5_16 Clearance Hole1 (revolve, cut)
    with BuildSketch(Plane(origin=(0, 215.9, -38.6), x_dir=(0, 0, 1), z_dir=(0, 1, 0))):
        Polygon((0, 0), (0, 19.05), (4.318, 19.05), (4.1021, 18.8341), (4.1021, 0.2159), (4.318, 0), align=None)
    f_5_16_clearance_hole1 = revolve(axis=Axis((-6.35, 215.9, -38.6), (1, 0, 0)), mode=Mode.SUBTRACT)

    # 5_16 Clearance Hole1 at 2: 5_16 Clearance Hole1 ×2
    with Locations(*[(0, 0, i * F_5_16_CLEARANCE_HOLE1_AT_2_PITCH) for i in range(1, F_5_16_CLEARANCE_HOLE1_AT_2_COUNT)]):
        add(f_5_16_clearance_hole1, mode=Mode.SUBTRACT)

    # 5_16 Clearance Hole1 at 3: 5_16 Clearance Hole1 ×2
    with Locations(*[(0, -i * F_5_16_CLEARANCE_HOLE1_AT_3_PITCH, 0) for i in range(1, F_5_16_CLEARANCE_HOLE1_AT_3_COUNT)]):
        add(f_5_16_clearance_hole1, mode=Mode.SUBTRACT)

    # 5_16 Clearance Hole1 at 4: 5_16 Clearance Hole1 ×2
    with Locations(*[Vector(0, -0.997765295, 0.066816283) * (i * F_5_16_CLEARANCE_HOLE1_AT_4_PITCH) for i in range(1, F_5_16_CLEARANCE_HOLE1_AT_4_COUNT)]):
        add(f_5_16_clearance_hole1, mode=Mode.SUBTRACT)

    # Sketch91 → Cut-Extrude2 (cut, up to next)
    with BuildSketch(Plane(origin=(19.05, 0, 0), x_dir=(0, 0, -1), z_dir=(1, 0, 0)), mode=Mode.PRIVATE) as cut_extrude2_sk1:
        with BuildLine():
            Line((0, -194.2625), (0, -193.2625))
            ThreePointArc((0, -193.2625), (193.2625, 0), (0, 193.2625))
            Line((0, 193.2625), (0, 194.2625))
            ThreePointArc((0, 194.2625), (194.2625, 0), (0, -194.2625))
        make_face()
    cut_extrude2_tool1 = extrude(cut_extrude2_sk1.sketch, amount=-CUT_EXTRUDE2_REACH, mode=Mode.PRIVATE) & part.part
    add(cut_extrude2_tool1.solids().sort_by_distance((19.05, 0, -193.828116))[0], mode=Mode.SUBTRACT)

    # Sketch94 → 5_16 Clearance Hole2 (revolve, cut)
    with BuildSketch(Plane(origin=(0, 200.292404118, -8.65810169), x_dir=(0, 0, 1), z_dir=(0, 1, 0))):
        Polygon((0, 0), (0, 19.05), (4.7371, 19.05), (4.1021, 18.415), (4.1021, 0.635), (4.7371, 0), align=None)
    f_5_16_clearance_hole2 = revolve(axis=Axis((-6.35, 200.292404118, -8.65810169), (1, 0, 0)), mode=Mode.SUBTRACT)

    # 5_16 Clearance Hole2 at 2: 5_16 Clearance Hole2 ×2
    with Locations(*[Vector(0, -0.160742566, -0.986996367) * (i * F_5_16_CLEARANCE_HOLE2_AT_2_PITCH) for i in range(1, F_5_16_CLEARANCE_HOLE2_AT_2_COUNT)]):
        add(f_5_16_clearance_hole2, mode=Mode.SUBTRACT)

    # 5_16 Clearance Hole2 at 3: 5_16 Clearance Hole2 ×2
    with Locations(*[Vector(0, -0.27605338, -0.961142305) * (i * F_5_16_CLEARANCE_HOLE2_AT_3_PITCH) for i in range(1, F_5_16_CLEARANCE_HOLE2_AT_3_COUNT)]):
        add(f_5_16_clearance_hole2, mode=Mode.SUBTRACT)

    # 5_16 Clearance Hole2 at 4: 5_16 Clearance Hole2 ×2
    with Locations(*[Vector(0, -0.644126319, -0.764919136) * (i * F_5_16_CLEARANCE_HOLE2_AT_4_PITCH) for i in range(1, F_5_16_CLEARANCE_HOLE2_AT_4_COUNT)]):
        add(f_5_16_clearance_hole2, mode=Mode.SUBTRACT)

    # 5_16 Clearance Hole2 at 5: 5_16 Clearance Hole2 ×2
    with Locations(*[Vector(0, -0.729864073, -0.683592302) * (i * F_5_16_CLEARANCE_HOLE2_AT_5_PITCH) for i in range(1, F_5_16_CLEARANCE_HOLE2_AT_5_COUNT)]):
        add(f_5_16_clearance_hole2, mode=Mode.SUBTRACT)

    # 5_16 Clearance Hole2 at 6: 5_16 Clearance Hole2 ×2
    with Locations(*[Vector(0, -0.977260308, -0.212043136) * (i * F_5_16_CLEARANCE_HOLE2_AT_6_PITCH) for i in range(1, F_5_16_CLEARANCE_HOLE2_AT_6_COUNT)]):
        add(f_5_16_clearance_hole2, mode=Mode.SUBTRACT)

    # 5_16 Clearance Hole2 at 7: 5_16 Clearance Hole2 ×2
    with Locations(*[Vector(0, -0.995424444, -0.095551959) * (i * F_5_16_CLEARANCE_HOLE2_AT_7_PITCH) for i in range(1, F_5_16_CLEARANCE_HOLE2_AT_7_COUNT)]):
        add(f_5_16_clearance_hole2, mode=Mode.SUBTRACT)

    # Sketch95 → Cut-Extrude-Thin5 (cut)
    with BuildSketch(Plane.ZY):
        Polygon((-29.851714725, 190.761755321), (-30.816170119, 196.68373352), (-33.184961399, 196.297951363), (-32.220506005, 190.375973164), align=None)
    extrude(amount=-CUT_EXTRUDE_THIN5_DEPTH, mode=Mode.SUBTRACT)

    # Sketch97 → Cut-Extrude-Thin7 (cut)
    with BuildSketch(Plane.ZY):
        Polygon((-78.251396852, 183.059679512), (-75.926342223, 177.528484255), (-73.71386412, 178.458506106), (-76.038918749, 183.989701363), align=None)
    extrude(amount=-CUT_EXTRUDE_THIN7_DEPTH, mode=Mode.SUBTRACT)

    # Sketch98 → Cut-Extrude-Thin8 (cut)
    with BuildSketch(Plane.ZY):
        Polygon((-198.278092506, 17.886458692), (-192.305715316, 17.311384177), (-192.07568551, 19.700335053), (-198.0480627, 20.275409568), align=None)
    extrude(amount=-CUT_EXTRUDE_THIN8_DEPTH, mode=Mode.SUBTRACT)

    # Sketch99 → Cut-Extrude-Thin9 (cut)
    with BuildSketch(Plane.ZY):
        Polygon((-67.619198408, -187.254802686), (-65.547369623, -181.623859116), (-67.79974705, -180.795127602), (-69.871575836, -186.426071171), align=None)
    extrude(amount=-CUT_EXTRUDE_THIN9_DEPTH, mode=Mode.SUBTRACT)

    # Sketch100 → Cut-Extrude-Thin10 (cut)
    with BuildSketch(Plane.ZY):
        Polygon((-18.702491825, -197.796059293), (-18.101616257, -191.826222733), (-20.489550881, -191.585872506), (-21.090426449, -197.555709066), align=None)
    extrude(amount=-CUT_EXTRUDE_THIN10_DEPTH, mode=Mode.SUBTRACT)

    # Fillet1
    fillet1_edges = [part.edges().sort_by_distance(p)[0] for p in [
        (1.5, 196.68373352, -30.816170119),
        (1.5, 196.297951363, -33.184961399),
        (1.5, 183.989701363, -76.038918749),
        (1.5, 183.059679512, -78.251396852),
        (1.5, 20.275409568, -198.0480627),
        (1.5, 17.886458692, -198.278092506),
        (1.5, -186.426071171, -69.871575836),
        (1.5, -187.254802686, -67.619198408),
        (1.5, -197.555709066, -21.090426449),
        (1.5, -197.796059293, -18.702491825),
    ]]
    fillet(fillet1_edges, radius=FILLET1_R)


solid = part.part
